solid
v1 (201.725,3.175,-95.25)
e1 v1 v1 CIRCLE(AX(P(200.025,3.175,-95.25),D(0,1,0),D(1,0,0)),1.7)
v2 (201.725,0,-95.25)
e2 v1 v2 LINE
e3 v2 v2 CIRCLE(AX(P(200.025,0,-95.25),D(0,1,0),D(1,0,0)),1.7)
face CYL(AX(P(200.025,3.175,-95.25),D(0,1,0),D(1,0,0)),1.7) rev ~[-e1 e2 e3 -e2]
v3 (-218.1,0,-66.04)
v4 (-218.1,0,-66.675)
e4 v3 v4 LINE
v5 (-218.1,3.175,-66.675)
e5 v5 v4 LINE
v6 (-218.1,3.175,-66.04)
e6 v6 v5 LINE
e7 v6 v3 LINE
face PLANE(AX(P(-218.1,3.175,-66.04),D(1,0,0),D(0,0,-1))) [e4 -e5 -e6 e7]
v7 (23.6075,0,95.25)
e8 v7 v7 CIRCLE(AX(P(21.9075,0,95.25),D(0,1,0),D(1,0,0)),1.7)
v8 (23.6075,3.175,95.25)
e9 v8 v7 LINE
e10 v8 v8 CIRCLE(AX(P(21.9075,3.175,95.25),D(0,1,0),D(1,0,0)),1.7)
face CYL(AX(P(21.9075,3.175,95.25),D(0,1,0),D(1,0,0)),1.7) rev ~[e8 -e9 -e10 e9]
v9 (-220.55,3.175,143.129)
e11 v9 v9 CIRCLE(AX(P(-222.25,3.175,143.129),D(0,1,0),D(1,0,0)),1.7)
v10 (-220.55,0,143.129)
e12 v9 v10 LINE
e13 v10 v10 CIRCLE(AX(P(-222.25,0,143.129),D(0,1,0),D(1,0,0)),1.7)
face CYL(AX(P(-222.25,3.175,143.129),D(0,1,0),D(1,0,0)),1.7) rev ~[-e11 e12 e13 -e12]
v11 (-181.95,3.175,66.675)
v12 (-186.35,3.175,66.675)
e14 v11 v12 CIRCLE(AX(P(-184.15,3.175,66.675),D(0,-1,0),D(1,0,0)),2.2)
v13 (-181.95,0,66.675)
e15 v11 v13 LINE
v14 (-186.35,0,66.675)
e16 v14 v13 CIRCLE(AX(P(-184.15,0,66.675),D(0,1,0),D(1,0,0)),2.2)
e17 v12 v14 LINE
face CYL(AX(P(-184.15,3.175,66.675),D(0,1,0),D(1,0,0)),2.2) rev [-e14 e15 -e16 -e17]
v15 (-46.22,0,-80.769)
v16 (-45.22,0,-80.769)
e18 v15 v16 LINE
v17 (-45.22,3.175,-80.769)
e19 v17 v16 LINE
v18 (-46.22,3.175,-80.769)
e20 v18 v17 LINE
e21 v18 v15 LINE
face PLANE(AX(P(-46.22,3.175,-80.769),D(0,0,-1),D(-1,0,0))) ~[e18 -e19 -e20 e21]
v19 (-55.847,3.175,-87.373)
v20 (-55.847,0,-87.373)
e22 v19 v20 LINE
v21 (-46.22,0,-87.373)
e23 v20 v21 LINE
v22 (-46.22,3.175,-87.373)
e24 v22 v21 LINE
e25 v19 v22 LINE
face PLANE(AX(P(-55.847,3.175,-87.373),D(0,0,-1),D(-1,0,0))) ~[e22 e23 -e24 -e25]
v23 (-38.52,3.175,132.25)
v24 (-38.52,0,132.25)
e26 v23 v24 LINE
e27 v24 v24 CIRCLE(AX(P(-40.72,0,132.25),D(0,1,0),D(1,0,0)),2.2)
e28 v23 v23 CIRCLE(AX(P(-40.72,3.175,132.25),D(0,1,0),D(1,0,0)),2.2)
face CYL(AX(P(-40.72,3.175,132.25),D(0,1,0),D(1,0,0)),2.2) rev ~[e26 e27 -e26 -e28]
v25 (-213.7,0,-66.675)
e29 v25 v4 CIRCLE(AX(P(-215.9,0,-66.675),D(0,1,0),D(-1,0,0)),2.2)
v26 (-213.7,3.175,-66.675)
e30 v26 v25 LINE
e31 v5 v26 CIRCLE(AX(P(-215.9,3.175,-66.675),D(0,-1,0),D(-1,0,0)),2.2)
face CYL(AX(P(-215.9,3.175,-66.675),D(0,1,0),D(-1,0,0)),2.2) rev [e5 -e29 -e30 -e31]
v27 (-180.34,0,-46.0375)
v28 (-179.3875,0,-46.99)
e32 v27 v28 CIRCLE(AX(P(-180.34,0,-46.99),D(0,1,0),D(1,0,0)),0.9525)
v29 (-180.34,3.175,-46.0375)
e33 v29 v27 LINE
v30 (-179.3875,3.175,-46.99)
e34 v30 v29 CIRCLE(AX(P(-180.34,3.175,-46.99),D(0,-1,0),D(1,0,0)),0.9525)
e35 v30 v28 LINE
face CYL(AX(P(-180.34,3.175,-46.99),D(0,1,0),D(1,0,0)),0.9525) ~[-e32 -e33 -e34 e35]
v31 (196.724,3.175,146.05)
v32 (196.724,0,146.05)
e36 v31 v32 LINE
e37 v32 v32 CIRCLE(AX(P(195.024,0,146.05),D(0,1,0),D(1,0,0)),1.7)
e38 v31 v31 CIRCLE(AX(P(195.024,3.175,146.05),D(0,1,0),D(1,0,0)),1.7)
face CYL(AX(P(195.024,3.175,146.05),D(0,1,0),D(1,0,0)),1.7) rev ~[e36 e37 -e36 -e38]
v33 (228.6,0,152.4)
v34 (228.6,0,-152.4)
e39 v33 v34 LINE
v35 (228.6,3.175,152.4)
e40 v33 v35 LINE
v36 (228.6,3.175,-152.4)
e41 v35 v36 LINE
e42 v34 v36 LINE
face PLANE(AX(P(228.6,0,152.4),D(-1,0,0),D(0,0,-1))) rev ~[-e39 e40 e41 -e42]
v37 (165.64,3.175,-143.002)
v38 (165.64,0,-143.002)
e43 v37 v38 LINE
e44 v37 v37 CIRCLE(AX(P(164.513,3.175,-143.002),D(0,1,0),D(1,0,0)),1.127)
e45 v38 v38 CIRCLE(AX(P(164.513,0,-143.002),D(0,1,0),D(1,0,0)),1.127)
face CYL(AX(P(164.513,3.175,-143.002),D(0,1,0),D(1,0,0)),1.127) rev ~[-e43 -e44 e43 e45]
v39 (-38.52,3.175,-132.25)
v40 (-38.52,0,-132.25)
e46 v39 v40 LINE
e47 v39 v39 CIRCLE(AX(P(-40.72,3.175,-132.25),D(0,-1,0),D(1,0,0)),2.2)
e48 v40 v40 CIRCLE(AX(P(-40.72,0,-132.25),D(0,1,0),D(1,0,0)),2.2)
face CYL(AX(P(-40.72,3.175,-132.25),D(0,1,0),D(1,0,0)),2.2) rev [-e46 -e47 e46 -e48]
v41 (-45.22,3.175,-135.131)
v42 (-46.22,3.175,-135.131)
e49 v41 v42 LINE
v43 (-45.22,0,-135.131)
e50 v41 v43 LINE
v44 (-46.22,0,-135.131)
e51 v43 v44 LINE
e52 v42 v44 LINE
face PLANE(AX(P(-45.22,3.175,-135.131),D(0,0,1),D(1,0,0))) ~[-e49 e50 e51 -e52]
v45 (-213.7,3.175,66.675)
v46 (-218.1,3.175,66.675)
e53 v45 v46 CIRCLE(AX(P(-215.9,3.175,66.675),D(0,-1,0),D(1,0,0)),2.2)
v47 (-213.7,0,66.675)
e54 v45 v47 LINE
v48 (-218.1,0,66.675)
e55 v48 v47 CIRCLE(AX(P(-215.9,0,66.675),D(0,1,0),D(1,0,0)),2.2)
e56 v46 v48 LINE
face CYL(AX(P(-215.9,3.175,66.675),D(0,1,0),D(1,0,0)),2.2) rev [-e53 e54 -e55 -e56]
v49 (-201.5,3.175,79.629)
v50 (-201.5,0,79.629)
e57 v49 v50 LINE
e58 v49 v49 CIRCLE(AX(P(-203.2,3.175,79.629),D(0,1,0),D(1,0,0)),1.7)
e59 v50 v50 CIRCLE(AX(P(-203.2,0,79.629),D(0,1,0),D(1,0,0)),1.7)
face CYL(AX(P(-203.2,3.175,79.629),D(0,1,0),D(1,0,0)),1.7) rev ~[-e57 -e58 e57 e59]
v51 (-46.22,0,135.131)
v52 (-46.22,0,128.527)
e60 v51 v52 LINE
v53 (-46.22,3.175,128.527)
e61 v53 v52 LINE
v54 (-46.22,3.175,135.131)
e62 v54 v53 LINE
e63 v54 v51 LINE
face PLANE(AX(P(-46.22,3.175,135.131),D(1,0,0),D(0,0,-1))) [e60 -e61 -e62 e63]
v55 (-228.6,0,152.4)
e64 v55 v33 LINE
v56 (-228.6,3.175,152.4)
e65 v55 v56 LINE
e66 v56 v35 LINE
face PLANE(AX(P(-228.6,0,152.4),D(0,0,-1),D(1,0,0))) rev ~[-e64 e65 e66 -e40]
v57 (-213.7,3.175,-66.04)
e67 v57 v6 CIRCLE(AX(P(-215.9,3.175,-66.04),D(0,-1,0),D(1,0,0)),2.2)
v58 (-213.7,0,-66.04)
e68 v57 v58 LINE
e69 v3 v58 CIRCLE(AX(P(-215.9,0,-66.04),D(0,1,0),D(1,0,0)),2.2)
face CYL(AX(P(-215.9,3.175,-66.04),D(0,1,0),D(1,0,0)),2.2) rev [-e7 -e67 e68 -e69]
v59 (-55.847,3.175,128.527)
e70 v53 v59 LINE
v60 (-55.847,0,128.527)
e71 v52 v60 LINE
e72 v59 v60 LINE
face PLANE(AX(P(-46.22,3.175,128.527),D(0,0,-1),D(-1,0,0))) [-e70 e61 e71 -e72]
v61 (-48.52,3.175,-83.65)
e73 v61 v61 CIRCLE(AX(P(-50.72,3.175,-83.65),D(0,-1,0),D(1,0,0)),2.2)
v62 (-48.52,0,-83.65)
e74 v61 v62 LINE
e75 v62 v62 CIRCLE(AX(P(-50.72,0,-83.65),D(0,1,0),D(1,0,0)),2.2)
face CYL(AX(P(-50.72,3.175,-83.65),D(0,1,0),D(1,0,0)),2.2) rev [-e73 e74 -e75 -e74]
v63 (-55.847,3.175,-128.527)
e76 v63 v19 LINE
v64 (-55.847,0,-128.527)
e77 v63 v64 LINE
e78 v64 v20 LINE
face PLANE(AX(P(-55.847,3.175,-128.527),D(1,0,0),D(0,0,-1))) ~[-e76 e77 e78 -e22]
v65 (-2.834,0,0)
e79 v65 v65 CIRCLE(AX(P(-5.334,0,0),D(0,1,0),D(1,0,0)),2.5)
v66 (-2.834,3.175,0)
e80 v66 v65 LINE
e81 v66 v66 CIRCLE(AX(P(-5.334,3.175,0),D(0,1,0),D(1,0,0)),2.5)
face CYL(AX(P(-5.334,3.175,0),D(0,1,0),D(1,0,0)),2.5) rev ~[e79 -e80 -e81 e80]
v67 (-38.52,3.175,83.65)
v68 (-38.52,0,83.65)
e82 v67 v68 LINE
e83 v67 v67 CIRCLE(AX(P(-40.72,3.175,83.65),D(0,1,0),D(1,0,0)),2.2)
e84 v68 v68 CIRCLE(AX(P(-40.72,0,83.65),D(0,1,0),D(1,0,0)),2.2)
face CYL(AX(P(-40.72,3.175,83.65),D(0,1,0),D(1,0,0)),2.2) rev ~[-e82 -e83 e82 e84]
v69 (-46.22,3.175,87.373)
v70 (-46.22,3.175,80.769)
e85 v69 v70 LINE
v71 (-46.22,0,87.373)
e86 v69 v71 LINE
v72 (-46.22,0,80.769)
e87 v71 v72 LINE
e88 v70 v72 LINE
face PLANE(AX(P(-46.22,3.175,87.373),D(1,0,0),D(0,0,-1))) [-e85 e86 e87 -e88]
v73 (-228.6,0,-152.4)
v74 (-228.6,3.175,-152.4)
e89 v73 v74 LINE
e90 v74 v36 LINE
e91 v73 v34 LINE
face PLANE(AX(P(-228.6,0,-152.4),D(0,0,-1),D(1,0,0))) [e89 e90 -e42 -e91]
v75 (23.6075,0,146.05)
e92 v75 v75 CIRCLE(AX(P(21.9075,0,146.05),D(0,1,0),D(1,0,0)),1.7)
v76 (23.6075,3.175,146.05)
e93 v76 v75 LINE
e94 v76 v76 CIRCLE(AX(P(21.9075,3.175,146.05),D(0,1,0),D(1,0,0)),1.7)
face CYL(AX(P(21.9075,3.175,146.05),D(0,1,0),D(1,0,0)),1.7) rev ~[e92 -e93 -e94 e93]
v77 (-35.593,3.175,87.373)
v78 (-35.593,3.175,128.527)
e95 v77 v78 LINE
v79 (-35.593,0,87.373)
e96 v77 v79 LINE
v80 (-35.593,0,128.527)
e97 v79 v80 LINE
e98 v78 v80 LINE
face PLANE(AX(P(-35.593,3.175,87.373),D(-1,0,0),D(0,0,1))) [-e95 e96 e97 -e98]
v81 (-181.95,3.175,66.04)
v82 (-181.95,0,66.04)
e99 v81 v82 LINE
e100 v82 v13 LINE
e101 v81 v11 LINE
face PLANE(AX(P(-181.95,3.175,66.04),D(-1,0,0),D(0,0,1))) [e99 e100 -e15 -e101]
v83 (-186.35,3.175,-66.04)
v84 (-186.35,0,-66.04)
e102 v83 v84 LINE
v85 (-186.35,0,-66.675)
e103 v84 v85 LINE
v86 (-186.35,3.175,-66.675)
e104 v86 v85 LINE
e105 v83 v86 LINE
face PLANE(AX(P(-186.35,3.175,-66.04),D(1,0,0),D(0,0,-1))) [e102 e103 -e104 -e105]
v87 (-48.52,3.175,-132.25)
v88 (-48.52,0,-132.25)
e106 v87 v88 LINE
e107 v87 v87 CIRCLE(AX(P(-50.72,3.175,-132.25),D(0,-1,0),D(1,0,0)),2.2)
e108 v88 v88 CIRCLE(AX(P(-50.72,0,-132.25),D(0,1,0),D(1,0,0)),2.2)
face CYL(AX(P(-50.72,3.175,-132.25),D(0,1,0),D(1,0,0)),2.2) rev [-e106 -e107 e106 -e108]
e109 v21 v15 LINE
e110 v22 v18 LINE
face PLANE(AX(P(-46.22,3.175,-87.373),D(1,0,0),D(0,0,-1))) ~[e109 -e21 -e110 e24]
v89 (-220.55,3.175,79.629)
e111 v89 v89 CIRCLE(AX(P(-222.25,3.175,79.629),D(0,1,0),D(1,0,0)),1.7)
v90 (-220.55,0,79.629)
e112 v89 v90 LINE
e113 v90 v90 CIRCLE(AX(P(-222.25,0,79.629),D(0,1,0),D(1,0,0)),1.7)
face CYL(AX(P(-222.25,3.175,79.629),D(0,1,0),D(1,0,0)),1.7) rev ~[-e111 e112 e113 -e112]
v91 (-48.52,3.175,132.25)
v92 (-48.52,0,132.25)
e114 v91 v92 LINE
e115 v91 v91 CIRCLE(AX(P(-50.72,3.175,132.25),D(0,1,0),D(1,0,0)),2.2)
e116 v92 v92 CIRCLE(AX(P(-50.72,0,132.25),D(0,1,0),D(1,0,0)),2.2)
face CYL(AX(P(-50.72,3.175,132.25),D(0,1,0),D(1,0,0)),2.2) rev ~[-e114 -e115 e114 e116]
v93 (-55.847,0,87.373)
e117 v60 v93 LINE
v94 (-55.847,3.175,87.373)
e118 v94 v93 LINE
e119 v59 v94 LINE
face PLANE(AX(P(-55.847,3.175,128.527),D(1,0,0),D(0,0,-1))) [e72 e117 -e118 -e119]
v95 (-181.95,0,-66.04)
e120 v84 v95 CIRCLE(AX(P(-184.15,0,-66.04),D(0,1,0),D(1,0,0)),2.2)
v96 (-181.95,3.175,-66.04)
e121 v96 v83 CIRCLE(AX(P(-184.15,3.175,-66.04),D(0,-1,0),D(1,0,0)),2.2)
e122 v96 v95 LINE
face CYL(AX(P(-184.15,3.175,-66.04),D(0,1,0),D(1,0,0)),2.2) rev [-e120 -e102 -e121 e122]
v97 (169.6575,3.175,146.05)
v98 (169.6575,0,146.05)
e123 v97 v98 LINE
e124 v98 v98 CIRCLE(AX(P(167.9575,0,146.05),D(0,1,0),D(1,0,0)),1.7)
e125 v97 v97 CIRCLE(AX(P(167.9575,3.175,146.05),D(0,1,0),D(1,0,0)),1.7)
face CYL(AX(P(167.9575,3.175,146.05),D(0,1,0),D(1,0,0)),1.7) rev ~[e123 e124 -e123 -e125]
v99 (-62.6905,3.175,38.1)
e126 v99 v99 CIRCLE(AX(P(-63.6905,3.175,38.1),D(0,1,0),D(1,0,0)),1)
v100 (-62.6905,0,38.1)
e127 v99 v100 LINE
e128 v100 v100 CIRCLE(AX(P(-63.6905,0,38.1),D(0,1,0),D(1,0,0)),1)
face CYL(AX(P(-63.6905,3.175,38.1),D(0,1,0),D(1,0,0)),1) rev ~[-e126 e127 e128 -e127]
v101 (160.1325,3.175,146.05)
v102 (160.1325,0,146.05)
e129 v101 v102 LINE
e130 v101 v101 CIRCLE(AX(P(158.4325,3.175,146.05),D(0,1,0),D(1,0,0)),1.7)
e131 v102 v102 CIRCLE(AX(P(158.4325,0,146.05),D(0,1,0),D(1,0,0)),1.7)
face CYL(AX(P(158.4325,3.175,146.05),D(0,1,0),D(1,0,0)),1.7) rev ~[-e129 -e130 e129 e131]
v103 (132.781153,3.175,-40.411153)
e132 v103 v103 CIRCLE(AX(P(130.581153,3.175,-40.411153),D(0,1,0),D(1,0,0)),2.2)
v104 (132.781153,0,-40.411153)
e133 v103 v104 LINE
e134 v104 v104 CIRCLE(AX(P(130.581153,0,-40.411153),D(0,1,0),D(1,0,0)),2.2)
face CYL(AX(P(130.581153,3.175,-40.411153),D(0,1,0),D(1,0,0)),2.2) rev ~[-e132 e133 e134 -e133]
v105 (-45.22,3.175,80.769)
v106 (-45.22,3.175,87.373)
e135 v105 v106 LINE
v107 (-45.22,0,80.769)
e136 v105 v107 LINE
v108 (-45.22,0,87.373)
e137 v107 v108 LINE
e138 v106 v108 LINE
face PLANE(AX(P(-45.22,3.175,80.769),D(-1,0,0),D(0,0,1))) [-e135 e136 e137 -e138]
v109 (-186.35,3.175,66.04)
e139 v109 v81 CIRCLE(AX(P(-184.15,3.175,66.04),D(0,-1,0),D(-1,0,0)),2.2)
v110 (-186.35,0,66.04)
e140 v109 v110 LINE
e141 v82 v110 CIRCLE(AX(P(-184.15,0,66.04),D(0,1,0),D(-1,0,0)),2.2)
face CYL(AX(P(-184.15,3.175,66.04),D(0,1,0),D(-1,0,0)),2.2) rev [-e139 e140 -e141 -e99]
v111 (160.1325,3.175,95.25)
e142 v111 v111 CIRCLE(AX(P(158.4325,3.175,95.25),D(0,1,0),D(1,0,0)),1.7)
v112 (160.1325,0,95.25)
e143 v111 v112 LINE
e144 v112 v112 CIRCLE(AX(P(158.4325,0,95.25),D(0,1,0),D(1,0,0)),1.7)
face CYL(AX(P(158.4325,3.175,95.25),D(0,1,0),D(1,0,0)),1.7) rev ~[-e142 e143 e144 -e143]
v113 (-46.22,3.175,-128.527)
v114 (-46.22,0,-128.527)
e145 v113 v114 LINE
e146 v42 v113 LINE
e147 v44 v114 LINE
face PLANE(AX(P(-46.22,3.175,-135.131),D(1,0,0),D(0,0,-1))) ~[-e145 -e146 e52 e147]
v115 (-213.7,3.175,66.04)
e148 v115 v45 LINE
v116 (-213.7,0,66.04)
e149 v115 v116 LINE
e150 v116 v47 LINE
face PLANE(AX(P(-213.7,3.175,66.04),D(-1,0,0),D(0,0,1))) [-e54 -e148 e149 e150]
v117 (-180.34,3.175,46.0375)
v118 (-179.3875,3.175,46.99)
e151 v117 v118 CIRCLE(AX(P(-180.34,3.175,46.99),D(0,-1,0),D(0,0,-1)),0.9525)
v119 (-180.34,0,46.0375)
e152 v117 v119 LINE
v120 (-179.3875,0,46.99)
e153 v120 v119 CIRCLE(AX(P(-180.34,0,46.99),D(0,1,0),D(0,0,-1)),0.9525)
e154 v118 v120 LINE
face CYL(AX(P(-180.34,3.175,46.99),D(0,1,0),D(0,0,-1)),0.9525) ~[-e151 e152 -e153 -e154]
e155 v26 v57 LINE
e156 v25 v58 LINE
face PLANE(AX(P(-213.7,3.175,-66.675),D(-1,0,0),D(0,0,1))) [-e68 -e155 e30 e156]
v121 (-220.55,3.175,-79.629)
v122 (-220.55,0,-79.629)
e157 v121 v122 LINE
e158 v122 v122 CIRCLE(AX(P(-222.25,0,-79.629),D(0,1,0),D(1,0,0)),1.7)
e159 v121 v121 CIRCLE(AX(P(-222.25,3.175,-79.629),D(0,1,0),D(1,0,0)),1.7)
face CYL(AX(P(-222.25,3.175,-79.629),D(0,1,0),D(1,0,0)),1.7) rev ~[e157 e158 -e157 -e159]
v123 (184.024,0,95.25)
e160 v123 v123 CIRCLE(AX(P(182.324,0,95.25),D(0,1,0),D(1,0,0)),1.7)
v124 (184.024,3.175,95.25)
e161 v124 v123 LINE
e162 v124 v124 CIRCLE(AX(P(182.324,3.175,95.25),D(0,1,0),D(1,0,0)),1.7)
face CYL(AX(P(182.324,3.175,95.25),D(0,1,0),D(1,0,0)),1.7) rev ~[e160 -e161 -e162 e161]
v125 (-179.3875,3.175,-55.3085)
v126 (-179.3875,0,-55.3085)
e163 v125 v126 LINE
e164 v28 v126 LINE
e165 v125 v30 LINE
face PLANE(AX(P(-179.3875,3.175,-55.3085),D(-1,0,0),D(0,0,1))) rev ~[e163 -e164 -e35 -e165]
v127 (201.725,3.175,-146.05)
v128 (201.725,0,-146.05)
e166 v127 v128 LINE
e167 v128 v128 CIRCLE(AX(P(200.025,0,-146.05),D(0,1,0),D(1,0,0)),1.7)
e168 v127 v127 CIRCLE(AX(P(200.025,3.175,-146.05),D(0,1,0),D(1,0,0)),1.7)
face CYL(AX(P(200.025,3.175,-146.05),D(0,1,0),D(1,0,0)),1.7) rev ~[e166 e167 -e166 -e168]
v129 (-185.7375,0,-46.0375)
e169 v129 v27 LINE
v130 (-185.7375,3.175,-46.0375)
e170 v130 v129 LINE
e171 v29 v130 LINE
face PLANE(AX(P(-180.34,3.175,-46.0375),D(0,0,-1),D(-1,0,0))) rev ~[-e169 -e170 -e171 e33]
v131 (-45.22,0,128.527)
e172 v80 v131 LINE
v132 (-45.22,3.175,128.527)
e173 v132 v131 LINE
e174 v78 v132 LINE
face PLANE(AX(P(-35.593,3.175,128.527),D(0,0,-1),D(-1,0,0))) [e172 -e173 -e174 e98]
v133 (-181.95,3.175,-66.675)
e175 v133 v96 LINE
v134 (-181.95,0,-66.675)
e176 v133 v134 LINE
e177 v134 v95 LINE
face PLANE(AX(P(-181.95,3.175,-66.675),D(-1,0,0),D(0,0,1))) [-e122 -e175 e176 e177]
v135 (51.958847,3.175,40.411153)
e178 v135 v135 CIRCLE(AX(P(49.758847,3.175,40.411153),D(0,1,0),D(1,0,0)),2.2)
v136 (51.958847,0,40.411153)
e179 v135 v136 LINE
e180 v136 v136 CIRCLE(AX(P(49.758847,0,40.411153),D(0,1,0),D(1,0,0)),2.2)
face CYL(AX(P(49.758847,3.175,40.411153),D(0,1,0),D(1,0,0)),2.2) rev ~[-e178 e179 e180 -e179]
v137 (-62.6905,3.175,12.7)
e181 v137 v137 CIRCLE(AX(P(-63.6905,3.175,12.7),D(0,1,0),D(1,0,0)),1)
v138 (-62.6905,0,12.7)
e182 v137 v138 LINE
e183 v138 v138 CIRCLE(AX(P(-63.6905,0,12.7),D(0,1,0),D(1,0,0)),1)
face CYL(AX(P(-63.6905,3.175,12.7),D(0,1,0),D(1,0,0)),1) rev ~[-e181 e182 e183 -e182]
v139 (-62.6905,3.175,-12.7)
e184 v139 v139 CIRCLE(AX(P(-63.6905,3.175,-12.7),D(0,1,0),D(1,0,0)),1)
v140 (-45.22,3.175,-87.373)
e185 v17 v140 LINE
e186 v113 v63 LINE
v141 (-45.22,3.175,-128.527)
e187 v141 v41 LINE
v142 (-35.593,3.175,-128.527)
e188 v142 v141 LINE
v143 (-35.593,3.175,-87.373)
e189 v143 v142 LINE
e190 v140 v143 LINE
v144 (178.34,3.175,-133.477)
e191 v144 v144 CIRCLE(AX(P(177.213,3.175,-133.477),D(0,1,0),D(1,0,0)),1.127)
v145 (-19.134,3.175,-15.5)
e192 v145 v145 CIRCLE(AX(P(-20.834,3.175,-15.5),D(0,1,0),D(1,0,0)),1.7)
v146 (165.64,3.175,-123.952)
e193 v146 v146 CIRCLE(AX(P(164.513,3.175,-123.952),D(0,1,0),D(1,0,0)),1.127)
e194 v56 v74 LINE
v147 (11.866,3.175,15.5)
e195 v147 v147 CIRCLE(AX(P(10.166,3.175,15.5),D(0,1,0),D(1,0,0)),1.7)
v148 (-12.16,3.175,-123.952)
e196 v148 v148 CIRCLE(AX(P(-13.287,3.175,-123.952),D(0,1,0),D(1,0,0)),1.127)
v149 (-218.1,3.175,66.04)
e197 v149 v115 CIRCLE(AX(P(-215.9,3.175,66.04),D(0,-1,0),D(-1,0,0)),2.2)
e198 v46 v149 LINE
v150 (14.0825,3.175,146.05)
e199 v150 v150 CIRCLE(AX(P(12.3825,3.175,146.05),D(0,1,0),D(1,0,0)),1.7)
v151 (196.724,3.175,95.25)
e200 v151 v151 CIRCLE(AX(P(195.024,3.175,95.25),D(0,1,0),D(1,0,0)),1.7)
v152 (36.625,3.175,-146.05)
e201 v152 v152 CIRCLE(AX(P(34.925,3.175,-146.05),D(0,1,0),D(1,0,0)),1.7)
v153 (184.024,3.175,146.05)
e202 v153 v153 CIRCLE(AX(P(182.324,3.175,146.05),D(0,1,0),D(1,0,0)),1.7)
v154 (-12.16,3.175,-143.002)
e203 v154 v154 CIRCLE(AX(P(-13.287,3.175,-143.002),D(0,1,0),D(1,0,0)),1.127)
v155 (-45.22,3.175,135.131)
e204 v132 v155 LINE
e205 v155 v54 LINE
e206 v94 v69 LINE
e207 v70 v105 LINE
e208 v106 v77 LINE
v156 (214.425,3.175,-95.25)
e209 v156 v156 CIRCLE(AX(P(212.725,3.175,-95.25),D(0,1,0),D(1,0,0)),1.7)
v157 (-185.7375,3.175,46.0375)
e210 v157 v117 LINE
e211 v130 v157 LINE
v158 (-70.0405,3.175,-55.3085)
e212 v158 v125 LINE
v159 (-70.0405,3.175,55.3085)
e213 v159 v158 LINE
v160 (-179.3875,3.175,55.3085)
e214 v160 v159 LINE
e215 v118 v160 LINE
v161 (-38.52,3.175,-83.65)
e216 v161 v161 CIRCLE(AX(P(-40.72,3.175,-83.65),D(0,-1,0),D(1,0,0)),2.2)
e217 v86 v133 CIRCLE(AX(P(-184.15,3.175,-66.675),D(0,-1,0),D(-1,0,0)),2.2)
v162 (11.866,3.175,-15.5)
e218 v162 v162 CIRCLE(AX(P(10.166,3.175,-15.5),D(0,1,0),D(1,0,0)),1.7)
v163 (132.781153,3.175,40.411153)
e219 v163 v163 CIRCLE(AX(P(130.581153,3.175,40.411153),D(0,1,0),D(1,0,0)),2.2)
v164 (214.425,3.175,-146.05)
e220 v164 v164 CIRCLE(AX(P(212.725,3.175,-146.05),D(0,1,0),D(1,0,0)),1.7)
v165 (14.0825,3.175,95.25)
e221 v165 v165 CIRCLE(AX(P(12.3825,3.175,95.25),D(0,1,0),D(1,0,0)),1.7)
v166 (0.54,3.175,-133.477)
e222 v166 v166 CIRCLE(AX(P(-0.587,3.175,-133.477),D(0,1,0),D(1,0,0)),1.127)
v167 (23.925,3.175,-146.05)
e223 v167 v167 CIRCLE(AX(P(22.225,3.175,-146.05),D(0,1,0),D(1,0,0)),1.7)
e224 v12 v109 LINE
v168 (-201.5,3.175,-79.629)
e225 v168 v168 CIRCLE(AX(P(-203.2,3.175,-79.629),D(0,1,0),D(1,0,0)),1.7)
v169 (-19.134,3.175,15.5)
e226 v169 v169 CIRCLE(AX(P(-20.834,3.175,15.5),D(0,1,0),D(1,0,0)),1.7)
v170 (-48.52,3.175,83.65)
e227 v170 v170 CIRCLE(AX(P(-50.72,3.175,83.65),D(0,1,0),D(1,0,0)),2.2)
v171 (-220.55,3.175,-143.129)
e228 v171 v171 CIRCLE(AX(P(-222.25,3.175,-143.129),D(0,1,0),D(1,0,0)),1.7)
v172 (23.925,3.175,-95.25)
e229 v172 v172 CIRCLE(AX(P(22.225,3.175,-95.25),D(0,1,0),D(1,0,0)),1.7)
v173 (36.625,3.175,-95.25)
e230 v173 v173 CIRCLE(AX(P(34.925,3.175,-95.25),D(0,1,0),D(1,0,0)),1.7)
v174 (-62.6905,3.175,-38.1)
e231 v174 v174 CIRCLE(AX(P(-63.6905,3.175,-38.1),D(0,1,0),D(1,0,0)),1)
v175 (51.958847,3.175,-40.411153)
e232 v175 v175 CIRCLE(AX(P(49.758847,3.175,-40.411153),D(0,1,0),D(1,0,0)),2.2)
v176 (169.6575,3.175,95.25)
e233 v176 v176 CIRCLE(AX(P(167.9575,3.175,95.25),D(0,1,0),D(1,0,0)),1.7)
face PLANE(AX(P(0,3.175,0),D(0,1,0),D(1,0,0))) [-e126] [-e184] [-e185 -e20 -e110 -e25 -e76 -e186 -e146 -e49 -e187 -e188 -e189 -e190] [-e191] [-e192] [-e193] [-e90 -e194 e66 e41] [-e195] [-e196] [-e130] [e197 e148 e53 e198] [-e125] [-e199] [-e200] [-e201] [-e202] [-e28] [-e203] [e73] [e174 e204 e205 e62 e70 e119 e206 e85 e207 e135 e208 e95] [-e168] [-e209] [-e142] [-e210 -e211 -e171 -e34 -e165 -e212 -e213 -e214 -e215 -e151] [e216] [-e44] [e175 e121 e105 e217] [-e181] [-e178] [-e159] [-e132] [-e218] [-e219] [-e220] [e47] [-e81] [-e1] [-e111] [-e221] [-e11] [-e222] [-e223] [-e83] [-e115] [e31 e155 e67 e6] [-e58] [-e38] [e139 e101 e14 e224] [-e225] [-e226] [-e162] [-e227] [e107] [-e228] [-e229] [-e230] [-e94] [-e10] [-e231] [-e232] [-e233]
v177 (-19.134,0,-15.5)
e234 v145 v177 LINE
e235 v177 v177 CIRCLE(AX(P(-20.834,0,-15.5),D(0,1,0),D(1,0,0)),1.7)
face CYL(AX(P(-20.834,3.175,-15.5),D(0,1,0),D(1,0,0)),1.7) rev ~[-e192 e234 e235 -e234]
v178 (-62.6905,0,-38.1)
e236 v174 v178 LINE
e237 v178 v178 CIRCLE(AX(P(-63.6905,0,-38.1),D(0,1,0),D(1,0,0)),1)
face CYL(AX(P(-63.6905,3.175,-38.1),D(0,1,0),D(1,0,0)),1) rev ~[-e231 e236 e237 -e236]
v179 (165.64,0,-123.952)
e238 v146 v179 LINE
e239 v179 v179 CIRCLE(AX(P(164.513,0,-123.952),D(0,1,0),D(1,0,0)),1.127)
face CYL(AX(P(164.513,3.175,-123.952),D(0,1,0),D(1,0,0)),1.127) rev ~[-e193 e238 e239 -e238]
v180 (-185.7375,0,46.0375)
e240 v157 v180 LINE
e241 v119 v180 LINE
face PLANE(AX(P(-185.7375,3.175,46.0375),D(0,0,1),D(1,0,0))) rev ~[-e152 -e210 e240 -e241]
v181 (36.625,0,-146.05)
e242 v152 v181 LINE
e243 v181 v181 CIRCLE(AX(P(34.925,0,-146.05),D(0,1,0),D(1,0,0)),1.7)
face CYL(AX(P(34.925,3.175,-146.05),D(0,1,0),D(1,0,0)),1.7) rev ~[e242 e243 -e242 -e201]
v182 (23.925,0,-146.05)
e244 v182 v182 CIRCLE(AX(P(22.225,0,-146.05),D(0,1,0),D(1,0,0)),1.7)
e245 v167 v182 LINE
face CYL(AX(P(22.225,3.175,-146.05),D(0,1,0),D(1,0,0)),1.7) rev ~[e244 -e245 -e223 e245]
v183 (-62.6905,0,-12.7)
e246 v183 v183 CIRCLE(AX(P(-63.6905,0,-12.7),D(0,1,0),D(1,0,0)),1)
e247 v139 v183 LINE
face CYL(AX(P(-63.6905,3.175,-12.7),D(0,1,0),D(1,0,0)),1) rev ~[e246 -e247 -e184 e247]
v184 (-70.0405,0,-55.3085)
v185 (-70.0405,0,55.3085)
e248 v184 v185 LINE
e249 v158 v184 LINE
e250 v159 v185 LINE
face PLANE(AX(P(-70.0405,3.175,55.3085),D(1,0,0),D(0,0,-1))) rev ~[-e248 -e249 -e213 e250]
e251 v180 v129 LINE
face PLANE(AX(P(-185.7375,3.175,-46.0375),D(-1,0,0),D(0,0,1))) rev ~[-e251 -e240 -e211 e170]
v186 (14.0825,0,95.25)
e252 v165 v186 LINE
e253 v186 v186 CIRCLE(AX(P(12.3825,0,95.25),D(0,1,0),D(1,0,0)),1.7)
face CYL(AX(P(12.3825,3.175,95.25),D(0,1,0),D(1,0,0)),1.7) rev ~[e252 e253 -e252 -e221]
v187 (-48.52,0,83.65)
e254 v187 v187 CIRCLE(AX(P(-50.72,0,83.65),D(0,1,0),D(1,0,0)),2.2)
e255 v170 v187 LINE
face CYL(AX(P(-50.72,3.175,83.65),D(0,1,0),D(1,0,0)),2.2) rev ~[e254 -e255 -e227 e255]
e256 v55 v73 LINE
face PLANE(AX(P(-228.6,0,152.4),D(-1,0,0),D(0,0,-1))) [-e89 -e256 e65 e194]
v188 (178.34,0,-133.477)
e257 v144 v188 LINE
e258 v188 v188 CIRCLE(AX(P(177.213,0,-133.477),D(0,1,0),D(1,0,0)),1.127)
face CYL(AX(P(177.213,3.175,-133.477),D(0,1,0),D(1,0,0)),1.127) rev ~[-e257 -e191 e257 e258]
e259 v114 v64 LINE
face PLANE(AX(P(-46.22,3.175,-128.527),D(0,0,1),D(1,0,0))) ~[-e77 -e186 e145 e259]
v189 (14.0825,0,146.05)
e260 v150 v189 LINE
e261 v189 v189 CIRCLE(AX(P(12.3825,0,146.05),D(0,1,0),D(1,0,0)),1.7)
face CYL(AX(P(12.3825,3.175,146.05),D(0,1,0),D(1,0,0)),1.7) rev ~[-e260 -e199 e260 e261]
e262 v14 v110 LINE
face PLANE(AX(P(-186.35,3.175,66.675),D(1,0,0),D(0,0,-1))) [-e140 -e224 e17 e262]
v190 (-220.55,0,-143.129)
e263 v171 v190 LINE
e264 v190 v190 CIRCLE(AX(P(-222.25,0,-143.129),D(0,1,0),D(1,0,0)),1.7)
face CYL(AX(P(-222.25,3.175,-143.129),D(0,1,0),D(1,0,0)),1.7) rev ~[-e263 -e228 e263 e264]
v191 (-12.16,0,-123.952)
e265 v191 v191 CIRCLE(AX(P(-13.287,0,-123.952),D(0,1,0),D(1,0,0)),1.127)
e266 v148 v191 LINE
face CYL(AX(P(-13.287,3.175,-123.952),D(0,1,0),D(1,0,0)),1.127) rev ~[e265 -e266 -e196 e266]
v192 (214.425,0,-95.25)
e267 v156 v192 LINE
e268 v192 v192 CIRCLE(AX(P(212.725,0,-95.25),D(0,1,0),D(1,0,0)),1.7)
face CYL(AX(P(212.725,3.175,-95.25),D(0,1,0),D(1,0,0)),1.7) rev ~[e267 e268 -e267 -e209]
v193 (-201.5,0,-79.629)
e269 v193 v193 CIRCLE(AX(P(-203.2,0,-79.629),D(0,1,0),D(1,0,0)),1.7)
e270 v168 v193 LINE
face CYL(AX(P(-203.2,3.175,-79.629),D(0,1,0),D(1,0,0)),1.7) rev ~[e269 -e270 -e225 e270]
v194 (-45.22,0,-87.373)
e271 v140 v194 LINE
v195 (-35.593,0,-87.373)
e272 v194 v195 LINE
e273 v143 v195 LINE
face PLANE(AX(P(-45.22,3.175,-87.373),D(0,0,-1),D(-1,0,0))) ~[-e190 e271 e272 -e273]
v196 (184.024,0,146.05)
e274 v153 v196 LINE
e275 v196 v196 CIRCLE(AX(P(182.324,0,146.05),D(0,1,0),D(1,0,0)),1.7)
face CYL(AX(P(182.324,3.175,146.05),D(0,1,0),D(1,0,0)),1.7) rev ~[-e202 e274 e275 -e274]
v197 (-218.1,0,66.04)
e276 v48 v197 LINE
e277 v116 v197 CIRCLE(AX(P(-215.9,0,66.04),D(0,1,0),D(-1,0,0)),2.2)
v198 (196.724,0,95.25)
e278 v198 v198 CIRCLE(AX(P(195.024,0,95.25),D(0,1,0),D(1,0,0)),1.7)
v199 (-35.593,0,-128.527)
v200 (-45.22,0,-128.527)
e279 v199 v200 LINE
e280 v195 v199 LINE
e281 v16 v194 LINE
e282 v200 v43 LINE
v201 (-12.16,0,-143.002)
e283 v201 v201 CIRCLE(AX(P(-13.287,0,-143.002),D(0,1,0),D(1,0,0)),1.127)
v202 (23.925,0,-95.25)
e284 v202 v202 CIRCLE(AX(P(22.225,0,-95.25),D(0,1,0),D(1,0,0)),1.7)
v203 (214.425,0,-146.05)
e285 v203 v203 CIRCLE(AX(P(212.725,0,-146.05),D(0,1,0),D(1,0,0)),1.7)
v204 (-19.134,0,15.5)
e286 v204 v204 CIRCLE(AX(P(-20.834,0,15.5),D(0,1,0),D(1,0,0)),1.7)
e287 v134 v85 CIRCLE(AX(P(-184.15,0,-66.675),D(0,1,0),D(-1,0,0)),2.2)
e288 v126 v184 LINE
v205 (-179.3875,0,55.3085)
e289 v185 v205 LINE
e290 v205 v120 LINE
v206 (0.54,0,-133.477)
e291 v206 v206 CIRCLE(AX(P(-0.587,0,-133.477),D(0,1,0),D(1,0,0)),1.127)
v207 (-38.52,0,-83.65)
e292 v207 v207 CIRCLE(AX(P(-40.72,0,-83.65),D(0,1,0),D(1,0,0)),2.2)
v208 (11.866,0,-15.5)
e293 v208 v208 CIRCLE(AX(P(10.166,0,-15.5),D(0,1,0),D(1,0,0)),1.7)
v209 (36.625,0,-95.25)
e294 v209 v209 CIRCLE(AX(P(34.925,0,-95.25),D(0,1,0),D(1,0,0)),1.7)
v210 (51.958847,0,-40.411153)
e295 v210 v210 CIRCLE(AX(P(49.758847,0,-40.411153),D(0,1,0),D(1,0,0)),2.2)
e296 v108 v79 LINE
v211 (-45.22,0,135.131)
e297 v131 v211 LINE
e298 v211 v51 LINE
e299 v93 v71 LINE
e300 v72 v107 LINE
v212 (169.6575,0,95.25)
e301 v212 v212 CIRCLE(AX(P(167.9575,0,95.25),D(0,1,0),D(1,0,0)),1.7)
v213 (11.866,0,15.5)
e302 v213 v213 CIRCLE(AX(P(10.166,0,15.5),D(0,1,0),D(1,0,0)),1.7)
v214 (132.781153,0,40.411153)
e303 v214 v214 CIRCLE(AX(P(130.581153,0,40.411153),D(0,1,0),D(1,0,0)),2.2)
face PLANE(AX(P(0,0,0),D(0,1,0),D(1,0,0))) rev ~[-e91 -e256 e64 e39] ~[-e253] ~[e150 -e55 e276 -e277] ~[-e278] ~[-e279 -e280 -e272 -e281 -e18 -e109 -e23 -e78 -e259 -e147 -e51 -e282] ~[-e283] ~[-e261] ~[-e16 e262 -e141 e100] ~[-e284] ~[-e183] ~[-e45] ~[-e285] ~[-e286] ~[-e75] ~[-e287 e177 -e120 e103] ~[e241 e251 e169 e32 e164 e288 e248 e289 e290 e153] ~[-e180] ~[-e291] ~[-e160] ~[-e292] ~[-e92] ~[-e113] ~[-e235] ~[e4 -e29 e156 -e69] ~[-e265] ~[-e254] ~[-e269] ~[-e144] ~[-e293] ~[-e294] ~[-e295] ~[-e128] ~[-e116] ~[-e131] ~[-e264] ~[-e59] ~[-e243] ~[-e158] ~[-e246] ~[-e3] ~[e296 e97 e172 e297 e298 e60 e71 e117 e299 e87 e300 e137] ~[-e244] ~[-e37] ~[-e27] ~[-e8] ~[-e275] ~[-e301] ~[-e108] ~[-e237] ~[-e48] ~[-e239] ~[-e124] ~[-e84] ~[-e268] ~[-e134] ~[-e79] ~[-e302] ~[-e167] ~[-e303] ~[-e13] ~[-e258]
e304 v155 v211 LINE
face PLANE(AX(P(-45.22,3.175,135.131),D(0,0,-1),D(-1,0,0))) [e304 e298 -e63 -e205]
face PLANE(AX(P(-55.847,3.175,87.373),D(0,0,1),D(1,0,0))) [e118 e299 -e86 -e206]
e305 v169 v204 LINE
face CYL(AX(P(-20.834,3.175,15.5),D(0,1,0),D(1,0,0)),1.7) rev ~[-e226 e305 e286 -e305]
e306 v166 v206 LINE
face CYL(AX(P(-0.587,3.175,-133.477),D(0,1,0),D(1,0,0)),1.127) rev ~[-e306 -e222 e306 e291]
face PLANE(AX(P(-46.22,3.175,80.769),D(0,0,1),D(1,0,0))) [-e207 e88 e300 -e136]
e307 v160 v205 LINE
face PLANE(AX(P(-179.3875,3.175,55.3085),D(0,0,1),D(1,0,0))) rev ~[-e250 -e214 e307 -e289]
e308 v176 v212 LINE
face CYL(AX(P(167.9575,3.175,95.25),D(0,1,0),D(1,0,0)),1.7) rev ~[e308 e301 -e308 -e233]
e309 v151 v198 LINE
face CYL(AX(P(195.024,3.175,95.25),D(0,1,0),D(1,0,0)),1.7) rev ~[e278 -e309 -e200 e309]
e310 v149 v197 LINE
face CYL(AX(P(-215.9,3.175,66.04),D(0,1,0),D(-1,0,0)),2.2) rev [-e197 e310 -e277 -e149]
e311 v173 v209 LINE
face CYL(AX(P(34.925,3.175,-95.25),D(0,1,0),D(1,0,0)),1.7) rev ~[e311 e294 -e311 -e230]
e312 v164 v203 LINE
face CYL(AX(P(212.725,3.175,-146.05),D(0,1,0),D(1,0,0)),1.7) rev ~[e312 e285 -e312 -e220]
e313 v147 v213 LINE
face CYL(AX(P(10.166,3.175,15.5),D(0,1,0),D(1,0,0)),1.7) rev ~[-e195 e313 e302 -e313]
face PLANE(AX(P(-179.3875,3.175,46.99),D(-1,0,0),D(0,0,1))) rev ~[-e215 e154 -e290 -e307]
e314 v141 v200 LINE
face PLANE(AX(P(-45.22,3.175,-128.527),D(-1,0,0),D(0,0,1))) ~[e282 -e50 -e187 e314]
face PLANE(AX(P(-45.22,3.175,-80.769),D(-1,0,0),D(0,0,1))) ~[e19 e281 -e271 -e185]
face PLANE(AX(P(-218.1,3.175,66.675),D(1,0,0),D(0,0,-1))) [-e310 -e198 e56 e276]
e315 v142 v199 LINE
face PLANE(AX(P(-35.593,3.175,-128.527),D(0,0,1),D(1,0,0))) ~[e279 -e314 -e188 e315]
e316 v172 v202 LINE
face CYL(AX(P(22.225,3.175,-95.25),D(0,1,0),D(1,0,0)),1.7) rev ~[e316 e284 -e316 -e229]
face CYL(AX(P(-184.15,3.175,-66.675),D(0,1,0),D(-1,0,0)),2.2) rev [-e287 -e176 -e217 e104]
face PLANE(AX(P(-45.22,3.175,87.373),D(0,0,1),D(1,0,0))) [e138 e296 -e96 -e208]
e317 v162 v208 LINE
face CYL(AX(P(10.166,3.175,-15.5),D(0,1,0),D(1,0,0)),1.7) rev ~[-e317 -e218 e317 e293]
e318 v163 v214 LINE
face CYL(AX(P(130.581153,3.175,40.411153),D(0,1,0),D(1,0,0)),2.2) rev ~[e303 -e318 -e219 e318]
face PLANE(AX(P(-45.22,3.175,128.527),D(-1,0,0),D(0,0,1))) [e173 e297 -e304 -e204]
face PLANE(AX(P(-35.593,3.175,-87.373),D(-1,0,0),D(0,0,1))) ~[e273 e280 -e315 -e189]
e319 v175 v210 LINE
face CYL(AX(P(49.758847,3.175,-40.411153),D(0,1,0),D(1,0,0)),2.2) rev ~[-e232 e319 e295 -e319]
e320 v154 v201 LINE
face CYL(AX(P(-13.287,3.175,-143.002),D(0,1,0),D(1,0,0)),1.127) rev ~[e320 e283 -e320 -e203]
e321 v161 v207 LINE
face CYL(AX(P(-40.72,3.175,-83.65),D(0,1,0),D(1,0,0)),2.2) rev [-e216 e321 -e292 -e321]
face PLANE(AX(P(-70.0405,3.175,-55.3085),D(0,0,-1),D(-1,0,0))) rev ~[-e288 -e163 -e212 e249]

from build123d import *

# Parameters (mm, degrees)
SKETCH1_W           = 457.2
SKETCH1_H           = 304.8
BOSS_EXTRUDE1_DEPTH = 3.175
CUT_EXTRUDE1_DEPTH  = 4.175
CUT_EXTRUDE2_REACH  = 5.175
SKETCH5_R           = 1.700000029
CUT_EXTRUDE3_DEPTH  = 4.175
SKETCH7_R           = 2.200000045
CUT_EXTRUDE5_DEPTH  = 4.175
SKETCH8_R           = 1.000000032
CUT_EXTRUDE6_DEPTH  = 4.175
SKETCH12_R          = 1.700000029
CUT_EXTRUDE7_DEPTH  = 4.175
SKETCH13_R          = 1.700000029
SKETCH13_R_2        = 1.127000032
CUT_EXTRUDE8_DEPTH  = 4.175
SKETCH14_R          = 2.200000045
SKETCH14_R_2        = 1.700000029
SKETCH14_R_3        = 2.499999953
CUT_EXTRUDE9_DEPTH  = 4.175


with BuildPart() as part:
    # Sketch1 → Boss-Extrude1 (new body)
    with BuildSketch(Plane(origin=(0, 0, 0), x_dir=(1, 0, 0), z_dir=(0, 1, 0))):
        Rectangle(SKETCH1_W, SKETCH1_H)
    extrude(amount=BOSS_EXTRUDE1_DEPTH)

    # Sketch2 → Cut-Extrude1 (cut, through all)
    with BuildSketch(Plane(origin=(0, 3.175, 0), x_dir=(1, 0, 0), z_dir=(0, 1, 0))):
        with BuildLine():
            Line((-218.100000045, 66.04), (-218.100000045, 66.675))
            ThreePointArc((-218.100000045, 66.675), (-215.9, 68.875000045), (-213.699999955, 66.675))
            Line((-213.699999955, 66.675), (-213.699999955, 66.04))
            ThreePointArc((-213.699999955, 66.04), (-215.9, 63.839999955), (-218.100000045, 66.04))
        make_face()
        with BuildLine():
            Line((-186.350000045, 66.04), (-186.350000045, 66.675))
            ThreePointArc((-186.350000045, 66.675), (-184.15, 68.875000045), (-181.949999955, 66.675))
            Line((-181.949999955, 66.675), (-181.949999955, 66.04))
            ThreePointArc((-181.949999955, 66.04), (-184.15, 63.839999955), (-186.350000045, 66.04))
        make_face()
        with BuildLine():
            Line((-213.699999955, -66.04), (-213.699999955, -66.675))
            ThreePointArc((-213.699999955, -66.675), (-215.9, -68.875000045), (-218.100000045, -66.675))
            Line((-218.100000045, -66.675), (-218.100000045, -66.04))
            ThreePointArc((-218.100000045, -66.04), (-215.9, -63.839999955), (-213.699999955, -66.04))
        make_face()
        with BuildLine():
            Line((-181.949999955, -66.04), (-181.949999955, -66.675))
            ThreePointArc((-181.949999955, -66.675), (-184.15, -68.875000045), (-186.350000045, -66.675))
            Line((-186.350000045, -66.675), (-186.350000045, -66.04))
            ThreePointArc((-186.350000045, -66.04), (-184.15, -63.839999955), (-181.949999955, -66.04))
        make_face()
    extrude(amount=-CUT_EXTRUDE1_DEPTH, mode=Mode.SUBTRACT)

    # Sketch4 → Cut-Extrude2 (cut, up to next)
    with BuildSketch(Plane(origin=(0, 3.175, 0), x_dir=(1, 0, 0), z_dir=(0, 1, 0)), mode=Mode.PRIVATE) as cut_extrude2_sk1:
        with BuildLine():
            Line((-185.7375, 46.0375), (-185.7375, -46.0375))
            Line((-185.7375, -46.0375), (-180.34, -46.0375))
            ThreePointArc((-180.34, -46.0375), (-179.666480791, -46.316480791), (-179.3875, -46.99))
            Line((-179.3875, -46.99), (-179.3875, -55.3085))
            Line((-179.3875, -55.3085), (-70.0405, -55.3085))
            Line((-70.0405, -55.3085), (-70.0405, 55.3085))
            Line((-70.0405, 55.3085), (-179.3875, 55.3085))
            Line((-179.3875, 55.3085), (-179.3875, 46.99))
            ThreePointArc((-179.3875, 46.99), (-179.666480791, 46.316480791), (-180.34, 46.0375))
            Line((-180.34, 46.0375), (-185.7375, 46.0375))
        make_face()
    cut_extrude2_tool1 = extrude(cut_extrude2_sk1.sketch, amount=-CUT_EXTRUDE2_REACH, mode=Mode.PRIVATE) & part.part
    add(cut_extrude2_tool1.solids().sort_by_distance((-127.382939, 3.175, 0))[0], mode=Mode.SUBTRACT)

    # Sketch5 → Cut-Extrude3 (cut, through all)
    with BuildSketch(Plane(origin=(0, 3.175, 0), x_dir=(1, 0, 0), z_dir=(0, 1, 0))):
        with Locations((-203.2, 79.629)):
            Circle(SKETCH5_R)
        with Locations((-222.25, 143.129)):
            Circle(SKETCH5_R)
        with Locations((-222.25, 79.629)):
            Circle(SKETCH5_R)
        with Locations((-203.2, -79.629)):
            Circle(SKETCH5_R)
        with Locations((-222.25, -79.629)):
            Circle(SKETCH5_R)
        with Locations((-222.25, -143.129)):
            Circle(SKETCH5_R)
    extrude(amount=-CUT_EXTRUDE3_DEPTH, mode=Mode.SUBTRACT)

    # Sketch7 → Cut-Extrude5 (cut, through all)
    with BuildSketch(Plane(origin=(0, 3.175, 0), x_dir=(1, 0, 0), z_dir=(0, 1, 0))):
        with Locations((-50.720000033, -132.250000041)):
            Circle(SKETCH7_R)
        with Locations((-40.719999967, -132.250000041)):
            Circle(SKETCH7_R)
        with Locations((-50.720000033, -83.649999959)):
            Circle(SKETCH7_R)
        with Locations((-40.719999967, -83.649999959)):
            Circle(SKETCH7_R)
        Polygon((-55.846999939, -87.373000006), (-46.22, -87.373000006), (-46.22, -80.769000006), (-45.22, -80.769000006), (-45.22, -87.373000006), (-35.593000061, -87.373000006), (-35.593000061, -128.526999994), (-45.22, -128.526999994), (-45.22, -135.130999994), (-46.22, -135.130999994), (-46.22, -128.526999994), (-55.846999939, -128.526999994), align=None)
    cut_extrude5 = extrude(amount=-CUT_EXTRUDE5_DEPTH, mode=Mode.SUBTRACT)

    # Mirror1: Cut-Extrude5 across plane
    add(cut_extrude5.mirror(Plane.XY), mode=Mode.SUBTRACT)

    # Sketch8 → Cut-Extrude6 (cut, through all)
    with BuildSketch(Plane(origin=(0, 3.175, 0), x_dir=(1, 0, 0), z_dir=(0, 1, 0))):
        with Locations((-63.6905, -38.1)):
            Circle(SKETCH8_R)
        with Locations((-63.6905, -12.7)):
            Circle(SKETCH8_R)
        with Locations((-63.6905, 12.7)):
            Circle(SKETCH8_R)
        with Locations((-63.6905, 38.1)):
            Circle(SKETCH8_R)
    extrude(amount=-CUT_EXTRUDE6_DEPTH, mode=Mode.SUBTRACT)

    # Sketch12 → Cut-Extrude7 (cut, through all)
    with BuildSketch(Plane(origin=(0, 3.175, 0), x_dir=(1, 0, 0), z_dir=(0, 1, 0))):
        with Locations((195.024, -95.25)):
            Circle(SKETCH12_R)
        with Locations((182.324, -95.25)):
            Circle(SKETCH12_R)
        with Locations((195.024, -146.05)):
            Circle(SKETCH12_R)
        with Locations((182.324, -146.05)):
            Circle(SKETCH12_R)
        with Locations((167.9575, -95.25)):
            Circle(SKETCH12_R)
        with Locations((158.4325, -95.25)):
            Circle(SKETCH12_R)
        with Locations((167.9575, -146.05)):
            Circle(SKETCH12_R)
        with Locations((158.4325, -146.05)):
            Circle(SKETCH12_R)
        with Locations((21.9075, -146.05)):
            Circle(SKETCH12_R)
        with Locations((12.3825, -146.05)):
            Circle(SKETCH12_R)
        with Locations((12.3825, -95.25)):
            Circle(SKETCH12_R)
        with Locations((21.9075, -95.25)):
            Circle(SKETCH12_R)
    extrude(amount=-CUT_EXTRUDE7_DEPTH, mode=Mode.SUBTRACT)

    # Sketch13 → Cut-Extrude8 (cut, through all)
    with BuildSketch(Plane(origin=(0, 3.175, 0), x_dir=(1, 0, 0), z_dir=(0, 1, 0))):
        with Locations((212.725, 95.25)):
            Circle(SKETCH13_R)
        with Locations((212.725, 146.05)):
            Circle(SKETCH13_R)
        with Locations((200.025, 95.25)):
            Circle(SKETCH13_R)
        with Locations((200.025, 146.05)):
            Circle(SKETCH13_R)
        with Locations((177.213, 133.477000026)):
            Circle(SKETCH13_R_2)
        with Locations((164.513, 143.002000026)):
            Circle(SKETCH13_R_2)
        with Locations((164.513, 123.952000026)):
            Circle(SKETCH13_R_2)
        with Locations((34.925, 95.25)):
            Circle(SKETCH13_R)
        with Locations((34.925, 146.05)):
            Circle(SKETCH13_R)
        with Locations((22.225, 95.25)):
            Circle(SKETCH13_R)
        with Locations((22.225, 146.05)):
            Circle(SKETCH13_R)
        with Locations((-0.587, 133.477000026)):
            Circle(SKETCH13_R_2)
        with Locations((-13.287, 143.002000026)):
            Circle(SKETCH13_R_2)
        with Locations((-13.287, 123.952000026)):
            Circle(SKETCH13_R_2)
    extrude(amount=-CUT_EXTRUDE8_DEPTH, mode=Mode.SUBTRACT)

    # Sketch14 → Cut-Extrude9 (cut, through all)
    with BuildSketch(Plane(origin=(0, 3.175, 0), x_dir=(1, 0, 0), z_dir=(0, 1, 0))):
        with Locations((49.758847455, 40.411152545)):
            Circle(SKETCH14_R)
        with Locations((130.581152545, 40.411152545)):
            Circle(SKETCH14_R)
        with Locations((49.758847455, -40.411152545)):
            Circle(SKETCH14_R)
        with Locations((130.581152545, -40.411152545)):
            Circle(SKETCH14_R)
        with Locations((-20.833999988, 15.499999988)):
            Circle(SKETCH14_R_2)
        with Locations((10.165999988, 15.499999988)):
            Circle(SKETCH14_R_2)
        with Locations((-20.833999988, -15.499999988)):
            Circle(SKETCH14_R_2)
        with Locations((10.165999988, -15.499999988)):
            Circle(SKETCH14_R_2)
        with Locations((-5.334, 0)):
            Circle(SKETCH14_R_3)
    extrude(amount=-CUT_EXTRUDE9_DEPTH, mode=Mode.SUBTRACT)


solid = part.part
